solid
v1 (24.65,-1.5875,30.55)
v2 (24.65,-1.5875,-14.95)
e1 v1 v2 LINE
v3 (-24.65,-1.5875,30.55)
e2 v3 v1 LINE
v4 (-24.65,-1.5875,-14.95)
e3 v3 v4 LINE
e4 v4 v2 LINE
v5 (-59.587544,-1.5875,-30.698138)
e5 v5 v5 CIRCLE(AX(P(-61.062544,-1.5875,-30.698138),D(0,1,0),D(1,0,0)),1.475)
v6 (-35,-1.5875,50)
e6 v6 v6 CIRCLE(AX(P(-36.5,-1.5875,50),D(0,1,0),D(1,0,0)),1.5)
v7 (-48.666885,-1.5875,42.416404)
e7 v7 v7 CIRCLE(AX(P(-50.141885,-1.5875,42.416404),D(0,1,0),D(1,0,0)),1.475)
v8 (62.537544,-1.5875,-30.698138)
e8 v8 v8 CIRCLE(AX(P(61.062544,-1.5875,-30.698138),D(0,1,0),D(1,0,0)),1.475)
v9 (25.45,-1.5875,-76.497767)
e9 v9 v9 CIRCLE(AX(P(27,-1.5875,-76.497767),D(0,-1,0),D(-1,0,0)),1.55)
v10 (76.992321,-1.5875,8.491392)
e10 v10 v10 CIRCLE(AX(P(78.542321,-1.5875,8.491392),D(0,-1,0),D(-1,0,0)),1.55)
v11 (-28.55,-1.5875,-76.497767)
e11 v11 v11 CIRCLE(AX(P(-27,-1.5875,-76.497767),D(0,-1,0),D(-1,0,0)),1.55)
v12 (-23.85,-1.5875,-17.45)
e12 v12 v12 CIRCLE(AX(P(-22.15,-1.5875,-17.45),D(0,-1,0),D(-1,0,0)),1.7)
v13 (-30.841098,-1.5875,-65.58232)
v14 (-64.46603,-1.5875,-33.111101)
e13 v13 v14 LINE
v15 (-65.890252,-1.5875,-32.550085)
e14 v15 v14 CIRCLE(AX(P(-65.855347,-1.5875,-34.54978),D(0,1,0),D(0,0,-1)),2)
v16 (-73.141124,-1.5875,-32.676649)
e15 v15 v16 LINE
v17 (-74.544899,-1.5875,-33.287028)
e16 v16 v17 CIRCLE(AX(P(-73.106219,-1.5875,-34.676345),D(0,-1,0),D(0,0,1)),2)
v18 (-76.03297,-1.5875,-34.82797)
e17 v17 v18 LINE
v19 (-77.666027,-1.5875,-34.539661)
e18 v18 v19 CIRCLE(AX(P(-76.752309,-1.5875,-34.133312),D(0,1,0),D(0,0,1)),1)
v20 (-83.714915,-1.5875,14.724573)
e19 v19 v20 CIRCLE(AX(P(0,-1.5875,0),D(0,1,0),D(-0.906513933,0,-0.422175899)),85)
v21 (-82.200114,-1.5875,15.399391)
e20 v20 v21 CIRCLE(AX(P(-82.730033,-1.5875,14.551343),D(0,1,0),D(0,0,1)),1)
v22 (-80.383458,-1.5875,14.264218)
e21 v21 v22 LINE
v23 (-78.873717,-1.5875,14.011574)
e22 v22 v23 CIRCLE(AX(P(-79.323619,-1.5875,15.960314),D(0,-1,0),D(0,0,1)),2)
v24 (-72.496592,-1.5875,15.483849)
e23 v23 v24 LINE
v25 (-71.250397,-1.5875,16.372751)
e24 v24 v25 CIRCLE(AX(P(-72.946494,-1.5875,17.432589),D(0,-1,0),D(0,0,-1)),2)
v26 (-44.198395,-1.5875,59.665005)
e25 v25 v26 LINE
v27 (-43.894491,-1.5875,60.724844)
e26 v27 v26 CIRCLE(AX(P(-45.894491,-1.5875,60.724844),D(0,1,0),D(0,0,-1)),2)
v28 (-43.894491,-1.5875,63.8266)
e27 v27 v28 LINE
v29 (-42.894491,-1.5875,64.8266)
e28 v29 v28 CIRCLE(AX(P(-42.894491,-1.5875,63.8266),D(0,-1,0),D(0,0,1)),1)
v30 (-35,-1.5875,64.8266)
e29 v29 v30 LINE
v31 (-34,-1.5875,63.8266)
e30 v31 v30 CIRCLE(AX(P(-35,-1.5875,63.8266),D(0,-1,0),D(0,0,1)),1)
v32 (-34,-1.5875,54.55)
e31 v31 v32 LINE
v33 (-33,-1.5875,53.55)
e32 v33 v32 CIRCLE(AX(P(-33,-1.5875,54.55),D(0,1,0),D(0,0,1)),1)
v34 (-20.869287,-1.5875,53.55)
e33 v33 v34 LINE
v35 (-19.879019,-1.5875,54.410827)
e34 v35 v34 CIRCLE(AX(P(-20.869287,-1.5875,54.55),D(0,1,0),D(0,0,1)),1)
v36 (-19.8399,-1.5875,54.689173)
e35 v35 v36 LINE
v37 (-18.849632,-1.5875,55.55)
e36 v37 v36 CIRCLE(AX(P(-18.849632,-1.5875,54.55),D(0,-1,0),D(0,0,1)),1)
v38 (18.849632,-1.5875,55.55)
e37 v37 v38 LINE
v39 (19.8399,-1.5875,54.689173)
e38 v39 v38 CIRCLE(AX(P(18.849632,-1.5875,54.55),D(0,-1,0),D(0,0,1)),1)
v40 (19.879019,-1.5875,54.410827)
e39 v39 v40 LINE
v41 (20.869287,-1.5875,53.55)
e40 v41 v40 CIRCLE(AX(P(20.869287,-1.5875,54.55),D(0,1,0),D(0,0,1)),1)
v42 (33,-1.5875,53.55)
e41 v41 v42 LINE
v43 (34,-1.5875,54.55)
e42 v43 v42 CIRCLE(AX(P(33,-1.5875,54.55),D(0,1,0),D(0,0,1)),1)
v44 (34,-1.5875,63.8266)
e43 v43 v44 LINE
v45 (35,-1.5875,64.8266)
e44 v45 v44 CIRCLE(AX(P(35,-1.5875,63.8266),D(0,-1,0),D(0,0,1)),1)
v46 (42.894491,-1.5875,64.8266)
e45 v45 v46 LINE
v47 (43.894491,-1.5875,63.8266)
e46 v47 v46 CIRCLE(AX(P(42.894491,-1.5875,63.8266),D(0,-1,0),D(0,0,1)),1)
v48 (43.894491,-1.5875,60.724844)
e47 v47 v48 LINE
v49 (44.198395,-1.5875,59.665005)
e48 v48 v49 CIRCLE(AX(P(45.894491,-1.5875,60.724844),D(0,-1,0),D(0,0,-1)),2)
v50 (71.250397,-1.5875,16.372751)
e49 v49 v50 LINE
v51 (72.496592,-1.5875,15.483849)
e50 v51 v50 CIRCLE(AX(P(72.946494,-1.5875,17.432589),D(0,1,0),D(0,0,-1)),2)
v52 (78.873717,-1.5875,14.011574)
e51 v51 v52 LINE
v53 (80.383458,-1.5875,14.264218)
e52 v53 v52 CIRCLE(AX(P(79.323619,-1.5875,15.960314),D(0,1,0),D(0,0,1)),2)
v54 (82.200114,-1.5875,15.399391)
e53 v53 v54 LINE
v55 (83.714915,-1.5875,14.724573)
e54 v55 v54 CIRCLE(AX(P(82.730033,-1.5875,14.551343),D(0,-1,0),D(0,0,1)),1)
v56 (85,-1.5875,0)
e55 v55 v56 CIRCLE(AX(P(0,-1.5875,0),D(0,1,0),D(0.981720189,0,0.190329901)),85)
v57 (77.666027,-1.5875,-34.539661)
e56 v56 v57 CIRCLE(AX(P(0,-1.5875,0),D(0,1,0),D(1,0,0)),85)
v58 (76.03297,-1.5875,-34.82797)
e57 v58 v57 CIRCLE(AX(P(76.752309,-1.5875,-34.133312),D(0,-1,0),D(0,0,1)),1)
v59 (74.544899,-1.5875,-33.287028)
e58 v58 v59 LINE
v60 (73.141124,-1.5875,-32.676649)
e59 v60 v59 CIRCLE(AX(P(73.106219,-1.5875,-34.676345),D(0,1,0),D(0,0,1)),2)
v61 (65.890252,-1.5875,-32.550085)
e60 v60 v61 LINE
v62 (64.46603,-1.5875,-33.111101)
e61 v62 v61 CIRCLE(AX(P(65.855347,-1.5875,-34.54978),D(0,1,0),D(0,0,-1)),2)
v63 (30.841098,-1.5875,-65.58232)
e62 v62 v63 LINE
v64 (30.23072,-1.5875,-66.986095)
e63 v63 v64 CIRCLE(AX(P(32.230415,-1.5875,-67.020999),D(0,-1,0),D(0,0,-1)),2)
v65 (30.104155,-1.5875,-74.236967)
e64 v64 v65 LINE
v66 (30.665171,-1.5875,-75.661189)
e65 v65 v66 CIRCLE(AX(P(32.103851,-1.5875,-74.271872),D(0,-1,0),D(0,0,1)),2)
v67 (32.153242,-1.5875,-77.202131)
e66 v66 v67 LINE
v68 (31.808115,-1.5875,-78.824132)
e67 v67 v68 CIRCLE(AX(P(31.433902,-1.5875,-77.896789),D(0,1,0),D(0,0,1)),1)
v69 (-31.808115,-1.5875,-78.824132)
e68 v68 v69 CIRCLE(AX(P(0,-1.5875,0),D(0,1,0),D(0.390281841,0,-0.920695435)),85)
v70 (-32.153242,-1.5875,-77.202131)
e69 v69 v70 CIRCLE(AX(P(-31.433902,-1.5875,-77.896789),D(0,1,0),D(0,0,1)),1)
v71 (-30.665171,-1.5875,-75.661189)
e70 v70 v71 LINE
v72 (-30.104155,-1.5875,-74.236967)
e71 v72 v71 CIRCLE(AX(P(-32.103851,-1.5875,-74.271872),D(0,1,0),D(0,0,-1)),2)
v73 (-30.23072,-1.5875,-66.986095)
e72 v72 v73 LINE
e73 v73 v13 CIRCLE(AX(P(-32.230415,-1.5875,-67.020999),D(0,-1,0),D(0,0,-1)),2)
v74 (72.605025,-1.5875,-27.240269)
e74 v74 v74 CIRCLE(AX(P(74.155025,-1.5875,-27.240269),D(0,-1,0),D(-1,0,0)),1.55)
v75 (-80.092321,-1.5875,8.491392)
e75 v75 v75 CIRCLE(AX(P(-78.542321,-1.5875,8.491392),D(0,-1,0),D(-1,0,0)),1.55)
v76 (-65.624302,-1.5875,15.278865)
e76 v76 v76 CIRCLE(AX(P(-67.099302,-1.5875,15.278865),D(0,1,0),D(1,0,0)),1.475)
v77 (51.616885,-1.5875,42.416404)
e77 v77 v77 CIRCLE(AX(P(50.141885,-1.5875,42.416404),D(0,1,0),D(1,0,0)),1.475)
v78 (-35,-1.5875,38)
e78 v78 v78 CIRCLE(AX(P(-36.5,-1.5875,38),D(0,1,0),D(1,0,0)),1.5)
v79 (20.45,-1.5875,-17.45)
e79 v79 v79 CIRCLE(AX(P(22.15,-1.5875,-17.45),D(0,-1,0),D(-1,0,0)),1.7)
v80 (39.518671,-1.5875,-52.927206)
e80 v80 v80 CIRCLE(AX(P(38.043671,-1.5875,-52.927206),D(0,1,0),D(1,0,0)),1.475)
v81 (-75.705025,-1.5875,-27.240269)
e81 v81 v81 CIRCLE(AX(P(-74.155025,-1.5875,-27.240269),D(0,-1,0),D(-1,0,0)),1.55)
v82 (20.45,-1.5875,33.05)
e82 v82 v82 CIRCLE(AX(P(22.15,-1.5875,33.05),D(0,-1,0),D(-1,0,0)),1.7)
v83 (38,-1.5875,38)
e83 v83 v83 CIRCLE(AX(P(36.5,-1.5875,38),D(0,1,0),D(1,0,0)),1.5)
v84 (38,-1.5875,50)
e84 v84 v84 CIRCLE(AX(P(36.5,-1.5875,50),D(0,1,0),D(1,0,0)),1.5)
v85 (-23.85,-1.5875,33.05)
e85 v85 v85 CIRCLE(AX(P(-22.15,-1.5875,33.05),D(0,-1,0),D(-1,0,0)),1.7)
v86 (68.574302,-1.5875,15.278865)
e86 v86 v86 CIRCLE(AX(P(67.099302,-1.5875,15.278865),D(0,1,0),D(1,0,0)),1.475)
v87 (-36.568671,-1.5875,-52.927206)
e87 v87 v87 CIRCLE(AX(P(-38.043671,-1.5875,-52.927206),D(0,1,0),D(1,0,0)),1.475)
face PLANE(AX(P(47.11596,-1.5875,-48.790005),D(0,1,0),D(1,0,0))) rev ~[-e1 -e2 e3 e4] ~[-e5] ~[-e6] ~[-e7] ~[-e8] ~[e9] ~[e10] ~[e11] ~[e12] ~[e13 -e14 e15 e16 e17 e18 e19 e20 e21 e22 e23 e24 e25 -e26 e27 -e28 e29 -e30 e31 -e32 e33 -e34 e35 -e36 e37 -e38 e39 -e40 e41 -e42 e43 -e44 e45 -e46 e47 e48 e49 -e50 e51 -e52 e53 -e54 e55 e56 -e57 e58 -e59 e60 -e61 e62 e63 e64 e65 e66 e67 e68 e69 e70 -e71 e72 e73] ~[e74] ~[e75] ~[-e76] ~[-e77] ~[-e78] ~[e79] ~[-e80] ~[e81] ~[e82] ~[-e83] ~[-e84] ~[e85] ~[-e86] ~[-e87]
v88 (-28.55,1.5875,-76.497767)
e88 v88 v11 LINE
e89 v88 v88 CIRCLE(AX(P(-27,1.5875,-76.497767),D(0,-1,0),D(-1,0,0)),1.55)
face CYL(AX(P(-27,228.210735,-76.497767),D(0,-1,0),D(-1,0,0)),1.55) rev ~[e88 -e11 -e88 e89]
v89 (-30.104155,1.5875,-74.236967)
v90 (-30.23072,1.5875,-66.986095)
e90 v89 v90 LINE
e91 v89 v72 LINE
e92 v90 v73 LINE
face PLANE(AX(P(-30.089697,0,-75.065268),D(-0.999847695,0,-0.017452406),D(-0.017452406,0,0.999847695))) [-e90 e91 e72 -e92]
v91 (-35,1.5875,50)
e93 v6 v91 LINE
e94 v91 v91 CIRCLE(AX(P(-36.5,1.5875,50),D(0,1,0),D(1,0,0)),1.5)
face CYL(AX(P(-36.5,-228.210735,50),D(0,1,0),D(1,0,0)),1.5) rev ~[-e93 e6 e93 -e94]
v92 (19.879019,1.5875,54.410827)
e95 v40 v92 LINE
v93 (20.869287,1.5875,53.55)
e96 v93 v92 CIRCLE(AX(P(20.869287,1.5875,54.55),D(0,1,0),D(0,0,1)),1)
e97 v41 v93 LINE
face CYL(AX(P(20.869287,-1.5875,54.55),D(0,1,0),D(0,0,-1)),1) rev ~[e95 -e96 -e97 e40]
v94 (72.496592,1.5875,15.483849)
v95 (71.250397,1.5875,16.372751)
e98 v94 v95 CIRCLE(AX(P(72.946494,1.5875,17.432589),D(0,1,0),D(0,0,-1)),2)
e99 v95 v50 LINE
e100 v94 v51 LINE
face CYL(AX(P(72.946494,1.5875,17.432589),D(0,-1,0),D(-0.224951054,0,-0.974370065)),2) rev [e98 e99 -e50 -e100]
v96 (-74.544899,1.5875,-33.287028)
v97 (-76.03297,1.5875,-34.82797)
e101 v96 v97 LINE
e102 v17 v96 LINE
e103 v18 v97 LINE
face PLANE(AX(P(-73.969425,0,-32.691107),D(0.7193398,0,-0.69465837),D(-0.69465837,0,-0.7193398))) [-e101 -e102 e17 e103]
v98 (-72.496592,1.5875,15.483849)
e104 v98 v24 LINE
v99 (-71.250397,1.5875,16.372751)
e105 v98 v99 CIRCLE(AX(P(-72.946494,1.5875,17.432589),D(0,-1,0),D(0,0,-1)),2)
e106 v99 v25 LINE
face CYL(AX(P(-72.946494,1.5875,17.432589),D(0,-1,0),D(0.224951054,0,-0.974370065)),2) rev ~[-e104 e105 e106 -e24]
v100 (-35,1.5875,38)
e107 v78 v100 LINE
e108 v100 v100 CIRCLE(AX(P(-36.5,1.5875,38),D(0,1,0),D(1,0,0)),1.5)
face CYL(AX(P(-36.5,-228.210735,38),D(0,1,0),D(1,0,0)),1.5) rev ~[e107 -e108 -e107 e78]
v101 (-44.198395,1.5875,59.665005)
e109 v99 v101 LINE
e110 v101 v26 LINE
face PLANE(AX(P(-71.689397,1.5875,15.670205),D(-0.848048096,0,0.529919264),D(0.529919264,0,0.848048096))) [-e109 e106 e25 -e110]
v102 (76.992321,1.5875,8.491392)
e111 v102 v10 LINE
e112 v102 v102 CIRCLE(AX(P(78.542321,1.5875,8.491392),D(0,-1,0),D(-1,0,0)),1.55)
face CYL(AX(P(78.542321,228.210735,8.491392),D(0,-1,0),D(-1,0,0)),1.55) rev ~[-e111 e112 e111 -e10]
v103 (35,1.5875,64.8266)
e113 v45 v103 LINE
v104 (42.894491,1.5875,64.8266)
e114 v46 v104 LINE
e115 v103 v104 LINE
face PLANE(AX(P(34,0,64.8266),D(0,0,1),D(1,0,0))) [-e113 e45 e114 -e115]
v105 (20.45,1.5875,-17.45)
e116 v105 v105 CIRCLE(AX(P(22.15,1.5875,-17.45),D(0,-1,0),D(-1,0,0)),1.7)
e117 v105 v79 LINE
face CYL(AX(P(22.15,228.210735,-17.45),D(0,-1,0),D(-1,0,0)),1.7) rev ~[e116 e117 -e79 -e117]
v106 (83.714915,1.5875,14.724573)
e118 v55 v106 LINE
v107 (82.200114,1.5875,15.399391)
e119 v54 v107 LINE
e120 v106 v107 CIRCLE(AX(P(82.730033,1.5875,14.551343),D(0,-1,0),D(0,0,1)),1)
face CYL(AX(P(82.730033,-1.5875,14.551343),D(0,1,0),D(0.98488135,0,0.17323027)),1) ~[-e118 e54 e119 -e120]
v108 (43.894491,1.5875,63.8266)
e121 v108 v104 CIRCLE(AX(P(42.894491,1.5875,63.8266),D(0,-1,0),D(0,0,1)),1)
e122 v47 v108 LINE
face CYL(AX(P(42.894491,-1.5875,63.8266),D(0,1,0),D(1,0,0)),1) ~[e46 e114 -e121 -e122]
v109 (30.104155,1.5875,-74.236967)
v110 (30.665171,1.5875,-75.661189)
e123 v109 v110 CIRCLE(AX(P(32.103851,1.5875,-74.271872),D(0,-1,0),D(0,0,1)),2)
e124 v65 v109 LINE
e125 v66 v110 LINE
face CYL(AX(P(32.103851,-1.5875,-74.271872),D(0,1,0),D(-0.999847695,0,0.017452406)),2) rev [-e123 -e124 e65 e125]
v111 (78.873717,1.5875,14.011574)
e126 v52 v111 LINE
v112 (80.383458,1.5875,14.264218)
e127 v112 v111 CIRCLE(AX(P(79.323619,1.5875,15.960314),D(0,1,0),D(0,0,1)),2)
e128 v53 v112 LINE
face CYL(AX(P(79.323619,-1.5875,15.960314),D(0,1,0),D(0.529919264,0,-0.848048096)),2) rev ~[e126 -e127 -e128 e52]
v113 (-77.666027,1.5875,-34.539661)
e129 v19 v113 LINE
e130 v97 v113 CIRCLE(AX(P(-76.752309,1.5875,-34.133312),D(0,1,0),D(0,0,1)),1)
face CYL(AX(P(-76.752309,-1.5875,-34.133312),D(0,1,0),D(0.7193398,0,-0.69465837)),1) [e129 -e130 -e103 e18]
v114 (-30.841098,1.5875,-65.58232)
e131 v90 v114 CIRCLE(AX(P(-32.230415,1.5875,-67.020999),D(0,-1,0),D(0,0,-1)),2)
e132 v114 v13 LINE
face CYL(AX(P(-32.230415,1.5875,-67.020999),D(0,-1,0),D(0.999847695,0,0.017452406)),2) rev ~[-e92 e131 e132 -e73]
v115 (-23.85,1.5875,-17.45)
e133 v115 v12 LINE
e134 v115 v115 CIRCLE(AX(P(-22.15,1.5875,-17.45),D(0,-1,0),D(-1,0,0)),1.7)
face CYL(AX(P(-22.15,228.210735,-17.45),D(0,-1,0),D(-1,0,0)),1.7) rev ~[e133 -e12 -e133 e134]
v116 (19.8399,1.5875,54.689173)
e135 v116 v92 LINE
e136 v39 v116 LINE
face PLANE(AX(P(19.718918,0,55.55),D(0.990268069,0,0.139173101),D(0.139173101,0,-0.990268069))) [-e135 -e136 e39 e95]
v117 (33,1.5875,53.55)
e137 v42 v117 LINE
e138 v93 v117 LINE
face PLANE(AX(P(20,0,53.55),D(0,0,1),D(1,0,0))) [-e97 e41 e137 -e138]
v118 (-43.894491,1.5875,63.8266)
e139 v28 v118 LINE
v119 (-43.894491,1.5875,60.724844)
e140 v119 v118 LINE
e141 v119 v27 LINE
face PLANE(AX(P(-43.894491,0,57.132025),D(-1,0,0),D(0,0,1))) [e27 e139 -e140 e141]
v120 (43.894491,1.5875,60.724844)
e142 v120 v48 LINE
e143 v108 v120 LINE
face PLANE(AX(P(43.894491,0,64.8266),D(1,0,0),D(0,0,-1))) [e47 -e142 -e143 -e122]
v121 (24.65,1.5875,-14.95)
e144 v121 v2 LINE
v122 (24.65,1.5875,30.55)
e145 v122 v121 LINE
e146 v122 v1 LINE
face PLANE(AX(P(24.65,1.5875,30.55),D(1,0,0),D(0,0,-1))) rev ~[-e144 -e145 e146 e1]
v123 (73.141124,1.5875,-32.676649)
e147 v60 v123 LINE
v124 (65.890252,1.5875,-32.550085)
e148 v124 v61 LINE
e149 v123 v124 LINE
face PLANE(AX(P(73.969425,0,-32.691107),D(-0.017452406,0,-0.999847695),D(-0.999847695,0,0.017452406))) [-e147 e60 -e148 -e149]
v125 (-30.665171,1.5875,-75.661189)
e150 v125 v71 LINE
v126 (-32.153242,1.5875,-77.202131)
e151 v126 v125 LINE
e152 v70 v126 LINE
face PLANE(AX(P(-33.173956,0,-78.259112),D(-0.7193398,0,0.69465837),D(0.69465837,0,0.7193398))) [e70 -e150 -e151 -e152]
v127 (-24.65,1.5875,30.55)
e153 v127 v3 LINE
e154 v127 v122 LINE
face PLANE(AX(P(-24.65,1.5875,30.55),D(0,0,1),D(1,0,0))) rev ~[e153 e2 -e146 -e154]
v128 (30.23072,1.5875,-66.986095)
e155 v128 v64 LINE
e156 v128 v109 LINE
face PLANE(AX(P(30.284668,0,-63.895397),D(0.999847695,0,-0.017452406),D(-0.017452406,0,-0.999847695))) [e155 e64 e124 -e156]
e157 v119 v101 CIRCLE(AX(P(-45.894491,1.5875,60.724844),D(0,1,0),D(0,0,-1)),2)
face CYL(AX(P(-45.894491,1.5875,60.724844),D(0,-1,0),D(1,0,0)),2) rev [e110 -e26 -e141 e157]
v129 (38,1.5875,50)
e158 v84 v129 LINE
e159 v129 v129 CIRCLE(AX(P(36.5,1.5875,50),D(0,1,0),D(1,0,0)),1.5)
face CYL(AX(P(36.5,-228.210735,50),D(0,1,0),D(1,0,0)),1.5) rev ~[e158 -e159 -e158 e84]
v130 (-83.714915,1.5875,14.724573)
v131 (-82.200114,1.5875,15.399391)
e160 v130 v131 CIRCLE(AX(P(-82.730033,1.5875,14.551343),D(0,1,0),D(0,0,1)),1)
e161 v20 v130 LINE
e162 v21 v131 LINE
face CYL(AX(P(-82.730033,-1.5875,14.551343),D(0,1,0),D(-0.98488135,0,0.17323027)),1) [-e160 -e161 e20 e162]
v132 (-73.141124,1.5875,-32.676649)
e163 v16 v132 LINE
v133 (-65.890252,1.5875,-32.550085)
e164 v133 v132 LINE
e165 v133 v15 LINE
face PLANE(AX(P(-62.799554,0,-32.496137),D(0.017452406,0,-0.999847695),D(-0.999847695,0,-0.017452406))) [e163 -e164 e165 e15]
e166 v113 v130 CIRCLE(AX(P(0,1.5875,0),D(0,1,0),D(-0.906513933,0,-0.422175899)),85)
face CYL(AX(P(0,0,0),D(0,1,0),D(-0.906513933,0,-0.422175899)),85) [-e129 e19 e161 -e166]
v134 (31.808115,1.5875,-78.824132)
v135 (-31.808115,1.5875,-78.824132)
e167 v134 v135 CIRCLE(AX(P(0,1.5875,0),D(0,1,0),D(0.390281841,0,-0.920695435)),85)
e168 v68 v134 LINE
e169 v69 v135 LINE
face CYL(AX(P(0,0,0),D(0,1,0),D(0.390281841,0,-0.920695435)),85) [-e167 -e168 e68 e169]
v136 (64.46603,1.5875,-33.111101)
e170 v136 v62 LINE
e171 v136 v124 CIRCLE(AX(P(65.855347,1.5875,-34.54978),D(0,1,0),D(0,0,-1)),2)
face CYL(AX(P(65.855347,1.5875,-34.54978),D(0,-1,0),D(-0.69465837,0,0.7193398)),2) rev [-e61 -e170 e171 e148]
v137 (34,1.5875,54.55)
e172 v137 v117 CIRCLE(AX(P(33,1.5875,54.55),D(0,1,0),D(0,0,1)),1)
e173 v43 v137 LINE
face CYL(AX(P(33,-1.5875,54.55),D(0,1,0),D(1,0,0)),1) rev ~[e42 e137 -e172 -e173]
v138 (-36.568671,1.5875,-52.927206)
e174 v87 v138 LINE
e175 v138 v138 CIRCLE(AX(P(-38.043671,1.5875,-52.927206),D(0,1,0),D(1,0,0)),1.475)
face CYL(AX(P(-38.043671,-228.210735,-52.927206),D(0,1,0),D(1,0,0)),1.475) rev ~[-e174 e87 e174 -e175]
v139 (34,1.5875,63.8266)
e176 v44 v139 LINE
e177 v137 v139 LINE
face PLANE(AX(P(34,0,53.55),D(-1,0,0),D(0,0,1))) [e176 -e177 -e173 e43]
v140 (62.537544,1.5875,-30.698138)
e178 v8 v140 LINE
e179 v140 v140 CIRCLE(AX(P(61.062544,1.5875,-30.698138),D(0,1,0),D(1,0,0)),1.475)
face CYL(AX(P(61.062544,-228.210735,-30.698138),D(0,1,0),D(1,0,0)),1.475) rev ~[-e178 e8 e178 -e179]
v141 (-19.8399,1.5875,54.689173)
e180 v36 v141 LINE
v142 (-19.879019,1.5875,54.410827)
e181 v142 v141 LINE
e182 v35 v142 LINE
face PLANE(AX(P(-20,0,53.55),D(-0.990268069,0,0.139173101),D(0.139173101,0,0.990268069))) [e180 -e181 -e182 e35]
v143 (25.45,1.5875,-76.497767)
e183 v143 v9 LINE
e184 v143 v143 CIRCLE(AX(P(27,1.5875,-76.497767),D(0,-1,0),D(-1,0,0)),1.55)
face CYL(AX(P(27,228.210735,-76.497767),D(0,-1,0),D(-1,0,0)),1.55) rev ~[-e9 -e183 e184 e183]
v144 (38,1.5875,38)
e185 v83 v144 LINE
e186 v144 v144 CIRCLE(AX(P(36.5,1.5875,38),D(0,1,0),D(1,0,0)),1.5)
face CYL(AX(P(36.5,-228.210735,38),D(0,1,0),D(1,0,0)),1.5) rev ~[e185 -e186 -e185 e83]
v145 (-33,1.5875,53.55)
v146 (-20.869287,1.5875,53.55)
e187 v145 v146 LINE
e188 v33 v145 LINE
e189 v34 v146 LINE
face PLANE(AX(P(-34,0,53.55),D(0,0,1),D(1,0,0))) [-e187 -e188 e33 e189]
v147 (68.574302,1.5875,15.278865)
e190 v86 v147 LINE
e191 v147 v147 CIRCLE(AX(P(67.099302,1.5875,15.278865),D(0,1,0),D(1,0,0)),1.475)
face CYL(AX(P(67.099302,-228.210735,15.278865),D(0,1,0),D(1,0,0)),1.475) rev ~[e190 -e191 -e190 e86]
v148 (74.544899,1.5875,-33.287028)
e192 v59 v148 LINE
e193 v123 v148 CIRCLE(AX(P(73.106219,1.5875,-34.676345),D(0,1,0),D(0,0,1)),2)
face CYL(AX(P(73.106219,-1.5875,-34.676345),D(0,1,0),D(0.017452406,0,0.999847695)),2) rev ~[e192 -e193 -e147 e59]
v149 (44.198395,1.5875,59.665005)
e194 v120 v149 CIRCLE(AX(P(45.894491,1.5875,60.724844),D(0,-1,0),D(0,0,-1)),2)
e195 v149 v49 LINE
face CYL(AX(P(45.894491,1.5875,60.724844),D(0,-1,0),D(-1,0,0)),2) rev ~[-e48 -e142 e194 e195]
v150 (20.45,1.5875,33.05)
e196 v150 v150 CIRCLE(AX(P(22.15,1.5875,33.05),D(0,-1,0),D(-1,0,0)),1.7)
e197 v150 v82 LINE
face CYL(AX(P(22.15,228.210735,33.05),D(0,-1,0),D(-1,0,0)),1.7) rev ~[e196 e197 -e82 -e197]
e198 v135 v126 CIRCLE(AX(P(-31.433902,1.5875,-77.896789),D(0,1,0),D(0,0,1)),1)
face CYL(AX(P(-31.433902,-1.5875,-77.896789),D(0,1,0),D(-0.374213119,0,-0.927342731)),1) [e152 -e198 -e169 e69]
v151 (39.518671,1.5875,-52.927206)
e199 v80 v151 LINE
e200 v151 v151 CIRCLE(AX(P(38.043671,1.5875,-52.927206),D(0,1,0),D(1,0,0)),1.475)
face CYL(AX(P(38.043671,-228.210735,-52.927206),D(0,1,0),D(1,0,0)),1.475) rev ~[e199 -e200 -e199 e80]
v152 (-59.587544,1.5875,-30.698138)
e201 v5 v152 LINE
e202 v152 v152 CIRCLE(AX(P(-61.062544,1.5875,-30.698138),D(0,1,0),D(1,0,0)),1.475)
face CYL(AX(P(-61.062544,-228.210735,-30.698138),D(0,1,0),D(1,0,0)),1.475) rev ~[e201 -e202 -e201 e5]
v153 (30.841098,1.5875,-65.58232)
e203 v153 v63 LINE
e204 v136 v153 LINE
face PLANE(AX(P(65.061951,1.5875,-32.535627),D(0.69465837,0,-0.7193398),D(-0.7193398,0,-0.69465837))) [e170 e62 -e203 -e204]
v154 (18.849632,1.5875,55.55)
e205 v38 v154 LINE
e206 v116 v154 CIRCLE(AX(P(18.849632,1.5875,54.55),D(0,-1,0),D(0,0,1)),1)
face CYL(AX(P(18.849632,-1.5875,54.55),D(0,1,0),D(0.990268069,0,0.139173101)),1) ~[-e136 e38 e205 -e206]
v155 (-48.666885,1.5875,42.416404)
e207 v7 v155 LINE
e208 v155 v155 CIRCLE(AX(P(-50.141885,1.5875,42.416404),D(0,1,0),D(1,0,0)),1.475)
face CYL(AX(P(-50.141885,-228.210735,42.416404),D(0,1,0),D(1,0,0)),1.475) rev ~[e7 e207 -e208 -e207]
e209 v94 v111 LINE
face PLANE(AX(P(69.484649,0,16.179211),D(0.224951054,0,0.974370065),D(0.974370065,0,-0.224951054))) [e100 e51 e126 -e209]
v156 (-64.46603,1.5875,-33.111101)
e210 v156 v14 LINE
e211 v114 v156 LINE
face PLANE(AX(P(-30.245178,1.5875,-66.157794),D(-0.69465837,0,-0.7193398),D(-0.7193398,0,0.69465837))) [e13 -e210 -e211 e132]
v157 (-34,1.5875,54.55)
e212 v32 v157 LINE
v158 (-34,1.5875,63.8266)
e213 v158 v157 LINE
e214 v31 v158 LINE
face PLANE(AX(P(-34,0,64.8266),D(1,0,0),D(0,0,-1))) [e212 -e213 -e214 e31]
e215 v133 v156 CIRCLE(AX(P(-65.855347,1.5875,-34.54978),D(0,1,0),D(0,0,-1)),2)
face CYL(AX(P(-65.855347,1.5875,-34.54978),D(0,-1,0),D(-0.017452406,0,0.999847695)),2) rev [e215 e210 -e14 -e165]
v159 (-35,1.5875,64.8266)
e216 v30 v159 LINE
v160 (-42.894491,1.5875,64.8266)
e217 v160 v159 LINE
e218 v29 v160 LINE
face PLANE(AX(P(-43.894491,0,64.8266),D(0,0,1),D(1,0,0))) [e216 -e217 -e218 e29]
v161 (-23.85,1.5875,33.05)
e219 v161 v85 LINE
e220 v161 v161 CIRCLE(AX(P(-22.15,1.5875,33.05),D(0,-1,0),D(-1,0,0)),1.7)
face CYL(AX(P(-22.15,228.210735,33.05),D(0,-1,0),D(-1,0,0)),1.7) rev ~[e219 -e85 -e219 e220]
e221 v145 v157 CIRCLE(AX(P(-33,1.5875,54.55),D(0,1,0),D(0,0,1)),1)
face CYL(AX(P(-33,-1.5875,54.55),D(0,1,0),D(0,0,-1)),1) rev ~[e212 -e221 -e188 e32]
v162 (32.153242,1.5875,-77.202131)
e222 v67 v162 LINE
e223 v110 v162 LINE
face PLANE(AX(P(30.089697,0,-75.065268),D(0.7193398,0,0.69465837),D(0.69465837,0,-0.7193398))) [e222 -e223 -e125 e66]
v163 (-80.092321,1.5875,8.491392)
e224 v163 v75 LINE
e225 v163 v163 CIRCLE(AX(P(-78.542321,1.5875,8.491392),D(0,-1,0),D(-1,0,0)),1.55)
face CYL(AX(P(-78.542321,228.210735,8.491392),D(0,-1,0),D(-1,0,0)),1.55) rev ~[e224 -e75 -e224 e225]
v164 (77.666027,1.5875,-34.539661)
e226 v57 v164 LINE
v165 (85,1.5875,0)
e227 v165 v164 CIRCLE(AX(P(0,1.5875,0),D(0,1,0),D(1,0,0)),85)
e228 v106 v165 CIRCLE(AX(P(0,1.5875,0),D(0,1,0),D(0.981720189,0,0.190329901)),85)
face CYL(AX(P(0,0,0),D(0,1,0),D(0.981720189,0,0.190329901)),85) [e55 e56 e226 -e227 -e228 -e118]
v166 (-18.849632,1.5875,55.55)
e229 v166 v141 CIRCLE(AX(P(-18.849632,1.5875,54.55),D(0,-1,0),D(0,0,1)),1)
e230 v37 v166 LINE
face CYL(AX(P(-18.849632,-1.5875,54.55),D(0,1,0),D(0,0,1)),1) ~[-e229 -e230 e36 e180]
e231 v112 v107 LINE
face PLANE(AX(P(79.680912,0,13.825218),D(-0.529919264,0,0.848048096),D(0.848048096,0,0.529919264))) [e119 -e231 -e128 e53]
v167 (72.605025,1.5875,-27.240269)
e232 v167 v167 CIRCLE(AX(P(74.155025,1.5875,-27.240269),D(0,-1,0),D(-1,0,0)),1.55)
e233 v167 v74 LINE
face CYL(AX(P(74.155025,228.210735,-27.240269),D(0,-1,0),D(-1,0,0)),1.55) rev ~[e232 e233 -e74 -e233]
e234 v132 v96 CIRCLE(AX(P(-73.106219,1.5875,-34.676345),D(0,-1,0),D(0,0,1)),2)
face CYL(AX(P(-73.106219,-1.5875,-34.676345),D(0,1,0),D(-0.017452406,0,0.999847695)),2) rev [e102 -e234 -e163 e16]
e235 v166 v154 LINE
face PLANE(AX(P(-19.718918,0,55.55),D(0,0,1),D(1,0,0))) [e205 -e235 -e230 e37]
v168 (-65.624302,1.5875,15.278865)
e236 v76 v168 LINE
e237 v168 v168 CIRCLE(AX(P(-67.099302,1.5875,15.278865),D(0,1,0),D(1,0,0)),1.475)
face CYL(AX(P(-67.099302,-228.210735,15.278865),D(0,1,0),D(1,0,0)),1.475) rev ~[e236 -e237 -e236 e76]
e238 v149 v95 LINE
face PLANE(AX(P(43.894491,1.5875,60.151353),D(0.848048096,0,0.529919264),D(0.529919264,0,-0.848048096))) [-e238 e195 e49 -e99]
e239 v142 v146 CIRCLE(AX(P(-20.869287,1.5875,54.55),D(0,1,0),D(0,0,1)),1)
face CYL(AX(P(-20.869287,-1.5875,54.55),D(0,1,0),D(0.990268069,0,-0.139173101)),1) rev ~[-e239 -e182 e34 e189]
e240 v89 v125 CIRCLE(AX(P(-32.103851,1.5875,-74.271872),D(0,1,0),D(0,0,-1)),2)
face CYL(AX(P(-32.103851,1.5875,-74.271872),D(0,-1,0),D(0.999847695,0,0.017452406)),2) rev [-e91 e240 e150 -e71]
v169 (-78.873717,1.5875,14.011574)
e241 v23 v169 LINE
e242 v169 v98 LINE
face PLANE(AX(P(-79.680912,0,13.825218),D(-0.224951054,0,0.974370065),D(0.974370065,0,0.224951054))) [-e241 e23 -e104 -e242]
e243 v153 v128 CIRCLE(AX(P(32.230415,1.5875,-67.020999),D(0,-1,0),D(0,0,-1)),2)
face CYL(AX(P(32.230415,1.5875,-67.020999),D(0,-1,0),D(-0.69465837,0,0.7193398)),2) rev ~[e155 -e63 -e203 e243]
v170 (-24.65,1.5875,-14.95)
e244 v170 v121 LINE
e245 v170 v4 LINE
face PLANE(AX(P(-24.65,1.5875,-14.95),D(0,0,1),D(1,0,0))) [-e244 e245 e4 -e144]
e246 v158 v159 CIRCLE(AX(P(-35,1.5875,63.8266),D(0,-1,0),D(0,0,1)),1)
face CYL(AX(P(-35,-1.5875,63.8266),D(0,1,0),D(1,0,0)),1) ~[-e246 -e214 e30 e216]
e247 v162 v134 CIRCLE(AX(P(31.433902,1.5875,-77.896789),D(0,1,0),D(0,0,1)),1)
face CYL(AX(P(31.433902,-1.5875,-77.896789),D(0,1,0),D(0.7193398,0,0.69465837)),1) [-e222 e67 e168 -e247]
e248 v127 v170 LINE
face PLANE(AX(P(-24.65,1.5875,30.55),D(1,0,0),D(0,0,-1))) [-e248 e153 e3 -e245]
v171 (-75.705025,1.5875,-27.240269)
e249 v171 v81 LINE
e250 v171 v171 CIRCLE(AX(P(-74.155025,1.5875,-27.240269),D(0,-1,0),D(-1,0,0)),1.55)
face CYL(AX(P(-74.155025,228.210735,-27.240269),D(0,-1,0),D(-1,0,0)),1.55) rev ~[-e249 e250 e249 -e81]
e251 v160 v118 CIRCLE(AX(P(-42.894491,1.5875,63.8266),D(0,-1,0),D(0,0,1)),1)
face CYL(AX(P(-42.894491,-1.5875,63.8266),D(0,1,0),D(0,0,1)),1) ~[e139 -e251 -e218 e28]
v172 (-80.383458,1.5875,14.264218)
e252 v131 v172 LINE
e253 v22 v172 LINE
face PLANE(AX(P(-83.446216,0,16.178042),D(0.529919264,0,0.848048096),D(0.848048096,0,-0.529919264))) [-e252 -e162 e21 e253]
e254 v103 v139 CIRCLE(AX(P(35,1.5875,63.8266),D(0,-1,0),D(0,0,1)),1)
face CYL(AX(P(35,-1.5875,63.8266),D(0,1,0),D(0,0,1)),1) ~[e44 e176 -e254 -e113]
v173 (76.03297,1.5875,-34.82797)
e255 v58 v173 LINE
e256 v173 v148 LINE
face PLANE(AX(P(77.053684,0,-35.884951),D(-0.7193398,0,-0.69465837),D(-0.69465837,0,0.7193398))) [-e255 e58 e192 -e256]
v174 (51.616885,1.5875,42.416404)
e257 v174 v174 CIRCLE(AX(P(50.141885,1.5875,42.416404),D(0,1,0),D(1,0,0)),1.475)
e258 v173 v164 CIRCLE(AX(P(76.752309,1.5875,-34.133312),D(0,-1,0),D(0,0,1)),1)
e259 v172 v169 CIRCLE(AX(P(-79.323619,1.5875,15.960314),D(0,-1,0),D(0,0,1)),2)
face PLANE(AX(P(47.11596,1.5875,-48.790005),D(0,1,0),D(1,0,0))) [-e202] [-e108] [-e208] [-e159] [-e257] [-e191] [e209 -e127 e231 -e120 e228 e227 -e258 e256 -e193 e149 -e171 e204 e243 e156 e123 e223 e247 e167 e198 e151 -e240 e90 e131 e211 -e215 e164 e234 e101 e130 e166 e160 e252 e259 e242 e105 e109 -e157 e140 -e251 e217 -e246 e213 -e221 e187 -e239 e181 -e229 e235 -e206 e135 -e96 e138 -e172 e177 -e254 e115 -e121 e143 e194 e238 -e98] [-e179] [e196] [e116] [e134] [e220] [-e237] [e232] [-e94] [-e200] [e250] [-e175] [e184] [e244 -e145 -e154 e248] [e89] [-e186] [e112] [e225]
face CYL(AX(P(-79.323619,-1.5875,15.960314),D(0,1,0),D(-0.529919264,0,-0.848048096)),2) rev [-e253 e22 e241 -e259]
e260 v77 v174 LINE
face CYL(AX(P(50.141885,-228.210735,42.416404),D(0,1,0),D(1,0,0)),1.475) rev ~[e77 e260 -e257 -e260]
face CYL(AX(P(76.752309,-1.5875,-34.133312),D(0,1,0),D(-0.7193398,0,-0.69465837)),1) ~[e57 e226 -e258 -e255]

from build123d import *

# Parameters (mm, degrees)
BOSS_EXTRUDE4_DEPTH  = 1.5875
M3_CLEARANCE_HOLE3_D = 3
M3_CLEARANCE_HOLE1_D = 3.1
M3_CLEARANCE_HOLE4_D = 2.95
M3_CLEARANCE_HOLE2_D = 3.1
BOSS_EXTRUDE6_DEPTH  = 3.175
FILLET1_R            = 2
FILLET3_R            = 1
M3_CLEARANCE_HOLE5_D = 3.4
SKETCH27_W           = 49.3
SKETCH27_H           = 45.5
CUT_EXTRUDE5_DEPTH   = 10


with BuildPart() as part:
    # Sketch1 → Boss-Extrude4 (new, symmetric)
    with BuildSketch(Plane(origin=(0, 0, 0), x_dir=(1, 0, 0), z_dir=(0, 1, 0))):
        with BuildLine():
            Line((-62.799553621, 32.496136604), (-73.969425011, 32.691107434))
            Line((-73.969425011, 32.691107434), (-77.053684287, 35.88495141))
            ThreePointArc((-77.053684287, 35.88495141), (-84.36642289, 10.358894189), (-83.446216027, -16.178041625))
            Line((-83.446216027, -16.178041625), (-79.680911643, -13.825218315))
            Line((-79.680911643, -13.825218315), (-69.484649137, -16.179210996))
            Line((-69.484649137, -16.179210996), (-43.894490772, -57.132025032))
            Line((-43.894490772, -57.132025032), (-43.894490772, -64.826600275))
            Line((-43.894490772, -64.826600275), (-43.094490772, -64.826600275))
            Line((-43.094490772, -64.826600275), (-34, -64.826600275))
            Line((-34, -64.826600275), (-34, -55.55))
            Line((-34, -55.55), (-34, -53.55))
            Line((-34, -53.55), (-20, -53.55))
            Line((-20, -53.55), (-19.718918331, -55.55))
            Line((-19.718918331, -55.55), (19.718918331, -55.55))
            Line((19.718918331, -55.55), (20, -53.55))
            Line((20, -53.55), (34, -53.55))
            Line((34, -53.55), (34, -55.55))
            Line((34, -55.55), (34, -64.826600275))
            Line((34, -64.826600275), (43.094490772, -64.826600275))
            Line((43.094490772, -64.826600275), (43.894490772, -64.826600275))
            Line((43.894490772, -64.826600275), (43.894490772, -57.132025032))
            Line((43.894490772, -57.132025032), (69.484649137, -16.179210996))
            Line((69.484649137, -16.179210996), (79.680911643, -13.825218315))
            Line((79.680911643, -13.825218315), (83.446216027, -16.178041625))
            ThreePointArc((83.446216027, -16.178041625), (84.610662337, -8.126242604), (85, 0))
            ThreePointArc((85, 0), (82.98964744, 18.377116688), (77.053684287, 35.88495141))
            Line((77.053684287, 35.88495141), (73.969425011, 32.691107434))
            Line((73.969425011, 32.691107434), (62.799553621, 32.496136604))
            Line((62.799553621, 32.496136604), (30.284668021, 63.895396642))
            Line((30.284668021, 63.895396642), (30.089697191, 75.065268032))
            Line((30.089697191, 75.065268032), (33.173956467, 78.259112008))
            ThreePointArc((33.173956467, 78.259112008), (0, 85), (-33.173956467, 78.259112008))
            Line((-33.173956467, 78.259112008), (-30.089697191, 75.065268032))
            Line((-30.089697191, 75.065268032), (-30.284668021, 63.895396642))
            Line((-30.284668021, 63.895396642), (-62.799553621, 32.496136604))
        make_face()
    extrude(amount=BOSS_EXTRUDE4_DEPTH, both=True)

    # M3 Clearance Hole3 (through all)
    with Locations(Plane(origin=(0, -1.5875, 0), x_dir=(-1, 0, 0), z_dir=(0, -1, 0))):
        with Locations((36.5, -50), (36.5, -38), (-36.5, -50), (-36.5, -38)):
            Hole(M3_CLEARANCE_HOLE3_D / 2)

    # M3 Clearance Hole1 (through all)
    with Locations(Plane(origin=(0, 1.5875, 0), x_dir=(1, 0, 0), z_dir=(0, 1, 0))):
        with Locations((-78.542321426, -8.49139241), (78.542321426, -8.49139241), (74.155025063, 27.240269049), (-74.155025063, 27.240269049)):
            Hole(M3_CLEARANCE_HOLE1_D / 2)

    # M3 Clearance Hole4 (through all)
    with Locations(Plane(origin=(0, -1.5875, 0), x_dir=(-1, 0, 0), z_dir=(0, -1, 0))):
        with Locations((-67.099301622, -15.278865202), (-50.141885166, -42.416404279), (-61.062544382, 30.698137949), (-38.043670771, 52.927205804), (50.141885166, -42.416404279), (67.099301622, -15.278865202), (38.043670771, 52.927205804), (61.062544382, 30.698137949)):
            Hole(M3_CLEARANCE_HOLE4_D / 2)

    # M3 Clearance Hole2 (through all)
    with Locations(Plane(origin=(0, 1.5875, 0), x_dir=(1, 0, 0), z_dir=(0, 1, 0))):
        with Locations((27, 76.497766718), (-27, 76.497766718)):
            Hole(M3_CLEARANCE_HOLE2_D / 2)

    # Sketch22 → Boss-Extrude6 (add)
    with BuildSketch(Plane(origin=(0, 1.5875, 0), x_dir=(1, 0, 0), z_dir=(0, 1, 0))):
        Polygon((65.061950694, 32.535626892), (30.245177733, 66.157793715), (30.284668021, 63.895396642), (62.799553621, 32.496136604), align=None)
        Polygon((-30.284668021, 63.895396642), (-30.245177733, 66.157793715), (-65.061950694, 32.535626892), (-62.799553621, 32.496136604), align=None)
        Polygon((43.894490772, -60.151352895), (71.689396914, -15.670204865), (69.484649137, -16.179210996), (43.894490772, -57.132025032), align=None)
        Polygon((-69.484649137, -16.179210996), (-71.689396914, -15.670204865), (-43.894490772, -60.151352895), (-43.894490772, -57.132025032), align=None)
    extrude(amount=-BOSS_EXTRUDE6_DEPTH)

    # Fillet1
    fillet1_edges = [part.edges().sort_by_distance(p)[0] for p in [
        (-30.245177733, -0.79375, -66.157793715),
        (-65.061950694, -0.79375, -32.535626892),
        (-71.689396914, -0.79375, 15.670204865),
        (-43.894490772, -0.79375, 60.151352895),
        (43.894490772, 0.79375, 60.151352895),
        (71.689396914, 0.79375, 15.670204865),
        (65.061950694, -0.79375, -32.535626892),
        (30.245177733, 0.79375, -66.157793715),
        (30.089697191, -0.79375, -75.065268032),
        (73.969425011, -0.79375, -32.691107434),
        (79.680911643, -0.79375, 13.825218315),
        (-79.680911643, -0.79375, 13.825218315),
        (-73.969425011, -0.79375, -32.691107434),
        (-30.089697191, -0.79375, -75.065268032),
    ]]
    fillet(fillet1_edges, radius=FILLET1_R)

    # Fillet3
    fillet3_edges = [part.edges().sort_by_distance(p)[0] for p in [
        (33.173956467, -0.79375, -78.259112008),
        (77.053684287, 0.79375, -35.88495141),
        (83.446216027, -0.79375, 16.178041625),
        (43.894490772, -0.79375, 64.826600275),
        (34, 0.79375, 64.826600275),
        (34, -0.79375, 53.55),
        (20, -0.79375, 53.55),
        (19.718918331, 0.79375, 55.55),
        (-19.718918331, 0.79375, 55.55),
        (-20, -0.79375, 53.55),
        (-34, -0.79375, 53.55),
        (-34, 0.79375, 64.826600275),
        (-43.894490772, -0.79375, 64.826600275),
        (-83.446216027, -0.79375, 16.178041625),
        (-77.053684287, -0.79375, -35.88495141),
        (-33.173956467, -0.79375, -78.259112008),
    ]]
    fillet(fillet3_edges, radius=FILLET3_R)

    # M3 Clearance Hole5 (through all)
    with Locations(Plane(origin=(0, 1.5875, 0), x_dir=(1, 0, 0), z_dir=(0, 1, 0))):
        with Locations((-22.15, 17.45), (-22.15, -33.05), (22.15, -33.05), (22.15, 17.45)):
            Hole(M3_CLEARANCE_HOLE5_D / 2)

    # Sketch27 → Cut-Extrude5 (cut)
    with BuildSketch(Plane(origin=(0, 1.5875, 0), x_dir=(1, 0, 0), z_dir=(0, 1, 0))):
        with Locations((0, -7.8)):
            Rectangle(SKETCH27_W, SKETCH27_H)
    extrude(amount=-CUT_EXTRUDE5_DEPTH, mode=Mode.SUBTRACT)


solid = part.part
